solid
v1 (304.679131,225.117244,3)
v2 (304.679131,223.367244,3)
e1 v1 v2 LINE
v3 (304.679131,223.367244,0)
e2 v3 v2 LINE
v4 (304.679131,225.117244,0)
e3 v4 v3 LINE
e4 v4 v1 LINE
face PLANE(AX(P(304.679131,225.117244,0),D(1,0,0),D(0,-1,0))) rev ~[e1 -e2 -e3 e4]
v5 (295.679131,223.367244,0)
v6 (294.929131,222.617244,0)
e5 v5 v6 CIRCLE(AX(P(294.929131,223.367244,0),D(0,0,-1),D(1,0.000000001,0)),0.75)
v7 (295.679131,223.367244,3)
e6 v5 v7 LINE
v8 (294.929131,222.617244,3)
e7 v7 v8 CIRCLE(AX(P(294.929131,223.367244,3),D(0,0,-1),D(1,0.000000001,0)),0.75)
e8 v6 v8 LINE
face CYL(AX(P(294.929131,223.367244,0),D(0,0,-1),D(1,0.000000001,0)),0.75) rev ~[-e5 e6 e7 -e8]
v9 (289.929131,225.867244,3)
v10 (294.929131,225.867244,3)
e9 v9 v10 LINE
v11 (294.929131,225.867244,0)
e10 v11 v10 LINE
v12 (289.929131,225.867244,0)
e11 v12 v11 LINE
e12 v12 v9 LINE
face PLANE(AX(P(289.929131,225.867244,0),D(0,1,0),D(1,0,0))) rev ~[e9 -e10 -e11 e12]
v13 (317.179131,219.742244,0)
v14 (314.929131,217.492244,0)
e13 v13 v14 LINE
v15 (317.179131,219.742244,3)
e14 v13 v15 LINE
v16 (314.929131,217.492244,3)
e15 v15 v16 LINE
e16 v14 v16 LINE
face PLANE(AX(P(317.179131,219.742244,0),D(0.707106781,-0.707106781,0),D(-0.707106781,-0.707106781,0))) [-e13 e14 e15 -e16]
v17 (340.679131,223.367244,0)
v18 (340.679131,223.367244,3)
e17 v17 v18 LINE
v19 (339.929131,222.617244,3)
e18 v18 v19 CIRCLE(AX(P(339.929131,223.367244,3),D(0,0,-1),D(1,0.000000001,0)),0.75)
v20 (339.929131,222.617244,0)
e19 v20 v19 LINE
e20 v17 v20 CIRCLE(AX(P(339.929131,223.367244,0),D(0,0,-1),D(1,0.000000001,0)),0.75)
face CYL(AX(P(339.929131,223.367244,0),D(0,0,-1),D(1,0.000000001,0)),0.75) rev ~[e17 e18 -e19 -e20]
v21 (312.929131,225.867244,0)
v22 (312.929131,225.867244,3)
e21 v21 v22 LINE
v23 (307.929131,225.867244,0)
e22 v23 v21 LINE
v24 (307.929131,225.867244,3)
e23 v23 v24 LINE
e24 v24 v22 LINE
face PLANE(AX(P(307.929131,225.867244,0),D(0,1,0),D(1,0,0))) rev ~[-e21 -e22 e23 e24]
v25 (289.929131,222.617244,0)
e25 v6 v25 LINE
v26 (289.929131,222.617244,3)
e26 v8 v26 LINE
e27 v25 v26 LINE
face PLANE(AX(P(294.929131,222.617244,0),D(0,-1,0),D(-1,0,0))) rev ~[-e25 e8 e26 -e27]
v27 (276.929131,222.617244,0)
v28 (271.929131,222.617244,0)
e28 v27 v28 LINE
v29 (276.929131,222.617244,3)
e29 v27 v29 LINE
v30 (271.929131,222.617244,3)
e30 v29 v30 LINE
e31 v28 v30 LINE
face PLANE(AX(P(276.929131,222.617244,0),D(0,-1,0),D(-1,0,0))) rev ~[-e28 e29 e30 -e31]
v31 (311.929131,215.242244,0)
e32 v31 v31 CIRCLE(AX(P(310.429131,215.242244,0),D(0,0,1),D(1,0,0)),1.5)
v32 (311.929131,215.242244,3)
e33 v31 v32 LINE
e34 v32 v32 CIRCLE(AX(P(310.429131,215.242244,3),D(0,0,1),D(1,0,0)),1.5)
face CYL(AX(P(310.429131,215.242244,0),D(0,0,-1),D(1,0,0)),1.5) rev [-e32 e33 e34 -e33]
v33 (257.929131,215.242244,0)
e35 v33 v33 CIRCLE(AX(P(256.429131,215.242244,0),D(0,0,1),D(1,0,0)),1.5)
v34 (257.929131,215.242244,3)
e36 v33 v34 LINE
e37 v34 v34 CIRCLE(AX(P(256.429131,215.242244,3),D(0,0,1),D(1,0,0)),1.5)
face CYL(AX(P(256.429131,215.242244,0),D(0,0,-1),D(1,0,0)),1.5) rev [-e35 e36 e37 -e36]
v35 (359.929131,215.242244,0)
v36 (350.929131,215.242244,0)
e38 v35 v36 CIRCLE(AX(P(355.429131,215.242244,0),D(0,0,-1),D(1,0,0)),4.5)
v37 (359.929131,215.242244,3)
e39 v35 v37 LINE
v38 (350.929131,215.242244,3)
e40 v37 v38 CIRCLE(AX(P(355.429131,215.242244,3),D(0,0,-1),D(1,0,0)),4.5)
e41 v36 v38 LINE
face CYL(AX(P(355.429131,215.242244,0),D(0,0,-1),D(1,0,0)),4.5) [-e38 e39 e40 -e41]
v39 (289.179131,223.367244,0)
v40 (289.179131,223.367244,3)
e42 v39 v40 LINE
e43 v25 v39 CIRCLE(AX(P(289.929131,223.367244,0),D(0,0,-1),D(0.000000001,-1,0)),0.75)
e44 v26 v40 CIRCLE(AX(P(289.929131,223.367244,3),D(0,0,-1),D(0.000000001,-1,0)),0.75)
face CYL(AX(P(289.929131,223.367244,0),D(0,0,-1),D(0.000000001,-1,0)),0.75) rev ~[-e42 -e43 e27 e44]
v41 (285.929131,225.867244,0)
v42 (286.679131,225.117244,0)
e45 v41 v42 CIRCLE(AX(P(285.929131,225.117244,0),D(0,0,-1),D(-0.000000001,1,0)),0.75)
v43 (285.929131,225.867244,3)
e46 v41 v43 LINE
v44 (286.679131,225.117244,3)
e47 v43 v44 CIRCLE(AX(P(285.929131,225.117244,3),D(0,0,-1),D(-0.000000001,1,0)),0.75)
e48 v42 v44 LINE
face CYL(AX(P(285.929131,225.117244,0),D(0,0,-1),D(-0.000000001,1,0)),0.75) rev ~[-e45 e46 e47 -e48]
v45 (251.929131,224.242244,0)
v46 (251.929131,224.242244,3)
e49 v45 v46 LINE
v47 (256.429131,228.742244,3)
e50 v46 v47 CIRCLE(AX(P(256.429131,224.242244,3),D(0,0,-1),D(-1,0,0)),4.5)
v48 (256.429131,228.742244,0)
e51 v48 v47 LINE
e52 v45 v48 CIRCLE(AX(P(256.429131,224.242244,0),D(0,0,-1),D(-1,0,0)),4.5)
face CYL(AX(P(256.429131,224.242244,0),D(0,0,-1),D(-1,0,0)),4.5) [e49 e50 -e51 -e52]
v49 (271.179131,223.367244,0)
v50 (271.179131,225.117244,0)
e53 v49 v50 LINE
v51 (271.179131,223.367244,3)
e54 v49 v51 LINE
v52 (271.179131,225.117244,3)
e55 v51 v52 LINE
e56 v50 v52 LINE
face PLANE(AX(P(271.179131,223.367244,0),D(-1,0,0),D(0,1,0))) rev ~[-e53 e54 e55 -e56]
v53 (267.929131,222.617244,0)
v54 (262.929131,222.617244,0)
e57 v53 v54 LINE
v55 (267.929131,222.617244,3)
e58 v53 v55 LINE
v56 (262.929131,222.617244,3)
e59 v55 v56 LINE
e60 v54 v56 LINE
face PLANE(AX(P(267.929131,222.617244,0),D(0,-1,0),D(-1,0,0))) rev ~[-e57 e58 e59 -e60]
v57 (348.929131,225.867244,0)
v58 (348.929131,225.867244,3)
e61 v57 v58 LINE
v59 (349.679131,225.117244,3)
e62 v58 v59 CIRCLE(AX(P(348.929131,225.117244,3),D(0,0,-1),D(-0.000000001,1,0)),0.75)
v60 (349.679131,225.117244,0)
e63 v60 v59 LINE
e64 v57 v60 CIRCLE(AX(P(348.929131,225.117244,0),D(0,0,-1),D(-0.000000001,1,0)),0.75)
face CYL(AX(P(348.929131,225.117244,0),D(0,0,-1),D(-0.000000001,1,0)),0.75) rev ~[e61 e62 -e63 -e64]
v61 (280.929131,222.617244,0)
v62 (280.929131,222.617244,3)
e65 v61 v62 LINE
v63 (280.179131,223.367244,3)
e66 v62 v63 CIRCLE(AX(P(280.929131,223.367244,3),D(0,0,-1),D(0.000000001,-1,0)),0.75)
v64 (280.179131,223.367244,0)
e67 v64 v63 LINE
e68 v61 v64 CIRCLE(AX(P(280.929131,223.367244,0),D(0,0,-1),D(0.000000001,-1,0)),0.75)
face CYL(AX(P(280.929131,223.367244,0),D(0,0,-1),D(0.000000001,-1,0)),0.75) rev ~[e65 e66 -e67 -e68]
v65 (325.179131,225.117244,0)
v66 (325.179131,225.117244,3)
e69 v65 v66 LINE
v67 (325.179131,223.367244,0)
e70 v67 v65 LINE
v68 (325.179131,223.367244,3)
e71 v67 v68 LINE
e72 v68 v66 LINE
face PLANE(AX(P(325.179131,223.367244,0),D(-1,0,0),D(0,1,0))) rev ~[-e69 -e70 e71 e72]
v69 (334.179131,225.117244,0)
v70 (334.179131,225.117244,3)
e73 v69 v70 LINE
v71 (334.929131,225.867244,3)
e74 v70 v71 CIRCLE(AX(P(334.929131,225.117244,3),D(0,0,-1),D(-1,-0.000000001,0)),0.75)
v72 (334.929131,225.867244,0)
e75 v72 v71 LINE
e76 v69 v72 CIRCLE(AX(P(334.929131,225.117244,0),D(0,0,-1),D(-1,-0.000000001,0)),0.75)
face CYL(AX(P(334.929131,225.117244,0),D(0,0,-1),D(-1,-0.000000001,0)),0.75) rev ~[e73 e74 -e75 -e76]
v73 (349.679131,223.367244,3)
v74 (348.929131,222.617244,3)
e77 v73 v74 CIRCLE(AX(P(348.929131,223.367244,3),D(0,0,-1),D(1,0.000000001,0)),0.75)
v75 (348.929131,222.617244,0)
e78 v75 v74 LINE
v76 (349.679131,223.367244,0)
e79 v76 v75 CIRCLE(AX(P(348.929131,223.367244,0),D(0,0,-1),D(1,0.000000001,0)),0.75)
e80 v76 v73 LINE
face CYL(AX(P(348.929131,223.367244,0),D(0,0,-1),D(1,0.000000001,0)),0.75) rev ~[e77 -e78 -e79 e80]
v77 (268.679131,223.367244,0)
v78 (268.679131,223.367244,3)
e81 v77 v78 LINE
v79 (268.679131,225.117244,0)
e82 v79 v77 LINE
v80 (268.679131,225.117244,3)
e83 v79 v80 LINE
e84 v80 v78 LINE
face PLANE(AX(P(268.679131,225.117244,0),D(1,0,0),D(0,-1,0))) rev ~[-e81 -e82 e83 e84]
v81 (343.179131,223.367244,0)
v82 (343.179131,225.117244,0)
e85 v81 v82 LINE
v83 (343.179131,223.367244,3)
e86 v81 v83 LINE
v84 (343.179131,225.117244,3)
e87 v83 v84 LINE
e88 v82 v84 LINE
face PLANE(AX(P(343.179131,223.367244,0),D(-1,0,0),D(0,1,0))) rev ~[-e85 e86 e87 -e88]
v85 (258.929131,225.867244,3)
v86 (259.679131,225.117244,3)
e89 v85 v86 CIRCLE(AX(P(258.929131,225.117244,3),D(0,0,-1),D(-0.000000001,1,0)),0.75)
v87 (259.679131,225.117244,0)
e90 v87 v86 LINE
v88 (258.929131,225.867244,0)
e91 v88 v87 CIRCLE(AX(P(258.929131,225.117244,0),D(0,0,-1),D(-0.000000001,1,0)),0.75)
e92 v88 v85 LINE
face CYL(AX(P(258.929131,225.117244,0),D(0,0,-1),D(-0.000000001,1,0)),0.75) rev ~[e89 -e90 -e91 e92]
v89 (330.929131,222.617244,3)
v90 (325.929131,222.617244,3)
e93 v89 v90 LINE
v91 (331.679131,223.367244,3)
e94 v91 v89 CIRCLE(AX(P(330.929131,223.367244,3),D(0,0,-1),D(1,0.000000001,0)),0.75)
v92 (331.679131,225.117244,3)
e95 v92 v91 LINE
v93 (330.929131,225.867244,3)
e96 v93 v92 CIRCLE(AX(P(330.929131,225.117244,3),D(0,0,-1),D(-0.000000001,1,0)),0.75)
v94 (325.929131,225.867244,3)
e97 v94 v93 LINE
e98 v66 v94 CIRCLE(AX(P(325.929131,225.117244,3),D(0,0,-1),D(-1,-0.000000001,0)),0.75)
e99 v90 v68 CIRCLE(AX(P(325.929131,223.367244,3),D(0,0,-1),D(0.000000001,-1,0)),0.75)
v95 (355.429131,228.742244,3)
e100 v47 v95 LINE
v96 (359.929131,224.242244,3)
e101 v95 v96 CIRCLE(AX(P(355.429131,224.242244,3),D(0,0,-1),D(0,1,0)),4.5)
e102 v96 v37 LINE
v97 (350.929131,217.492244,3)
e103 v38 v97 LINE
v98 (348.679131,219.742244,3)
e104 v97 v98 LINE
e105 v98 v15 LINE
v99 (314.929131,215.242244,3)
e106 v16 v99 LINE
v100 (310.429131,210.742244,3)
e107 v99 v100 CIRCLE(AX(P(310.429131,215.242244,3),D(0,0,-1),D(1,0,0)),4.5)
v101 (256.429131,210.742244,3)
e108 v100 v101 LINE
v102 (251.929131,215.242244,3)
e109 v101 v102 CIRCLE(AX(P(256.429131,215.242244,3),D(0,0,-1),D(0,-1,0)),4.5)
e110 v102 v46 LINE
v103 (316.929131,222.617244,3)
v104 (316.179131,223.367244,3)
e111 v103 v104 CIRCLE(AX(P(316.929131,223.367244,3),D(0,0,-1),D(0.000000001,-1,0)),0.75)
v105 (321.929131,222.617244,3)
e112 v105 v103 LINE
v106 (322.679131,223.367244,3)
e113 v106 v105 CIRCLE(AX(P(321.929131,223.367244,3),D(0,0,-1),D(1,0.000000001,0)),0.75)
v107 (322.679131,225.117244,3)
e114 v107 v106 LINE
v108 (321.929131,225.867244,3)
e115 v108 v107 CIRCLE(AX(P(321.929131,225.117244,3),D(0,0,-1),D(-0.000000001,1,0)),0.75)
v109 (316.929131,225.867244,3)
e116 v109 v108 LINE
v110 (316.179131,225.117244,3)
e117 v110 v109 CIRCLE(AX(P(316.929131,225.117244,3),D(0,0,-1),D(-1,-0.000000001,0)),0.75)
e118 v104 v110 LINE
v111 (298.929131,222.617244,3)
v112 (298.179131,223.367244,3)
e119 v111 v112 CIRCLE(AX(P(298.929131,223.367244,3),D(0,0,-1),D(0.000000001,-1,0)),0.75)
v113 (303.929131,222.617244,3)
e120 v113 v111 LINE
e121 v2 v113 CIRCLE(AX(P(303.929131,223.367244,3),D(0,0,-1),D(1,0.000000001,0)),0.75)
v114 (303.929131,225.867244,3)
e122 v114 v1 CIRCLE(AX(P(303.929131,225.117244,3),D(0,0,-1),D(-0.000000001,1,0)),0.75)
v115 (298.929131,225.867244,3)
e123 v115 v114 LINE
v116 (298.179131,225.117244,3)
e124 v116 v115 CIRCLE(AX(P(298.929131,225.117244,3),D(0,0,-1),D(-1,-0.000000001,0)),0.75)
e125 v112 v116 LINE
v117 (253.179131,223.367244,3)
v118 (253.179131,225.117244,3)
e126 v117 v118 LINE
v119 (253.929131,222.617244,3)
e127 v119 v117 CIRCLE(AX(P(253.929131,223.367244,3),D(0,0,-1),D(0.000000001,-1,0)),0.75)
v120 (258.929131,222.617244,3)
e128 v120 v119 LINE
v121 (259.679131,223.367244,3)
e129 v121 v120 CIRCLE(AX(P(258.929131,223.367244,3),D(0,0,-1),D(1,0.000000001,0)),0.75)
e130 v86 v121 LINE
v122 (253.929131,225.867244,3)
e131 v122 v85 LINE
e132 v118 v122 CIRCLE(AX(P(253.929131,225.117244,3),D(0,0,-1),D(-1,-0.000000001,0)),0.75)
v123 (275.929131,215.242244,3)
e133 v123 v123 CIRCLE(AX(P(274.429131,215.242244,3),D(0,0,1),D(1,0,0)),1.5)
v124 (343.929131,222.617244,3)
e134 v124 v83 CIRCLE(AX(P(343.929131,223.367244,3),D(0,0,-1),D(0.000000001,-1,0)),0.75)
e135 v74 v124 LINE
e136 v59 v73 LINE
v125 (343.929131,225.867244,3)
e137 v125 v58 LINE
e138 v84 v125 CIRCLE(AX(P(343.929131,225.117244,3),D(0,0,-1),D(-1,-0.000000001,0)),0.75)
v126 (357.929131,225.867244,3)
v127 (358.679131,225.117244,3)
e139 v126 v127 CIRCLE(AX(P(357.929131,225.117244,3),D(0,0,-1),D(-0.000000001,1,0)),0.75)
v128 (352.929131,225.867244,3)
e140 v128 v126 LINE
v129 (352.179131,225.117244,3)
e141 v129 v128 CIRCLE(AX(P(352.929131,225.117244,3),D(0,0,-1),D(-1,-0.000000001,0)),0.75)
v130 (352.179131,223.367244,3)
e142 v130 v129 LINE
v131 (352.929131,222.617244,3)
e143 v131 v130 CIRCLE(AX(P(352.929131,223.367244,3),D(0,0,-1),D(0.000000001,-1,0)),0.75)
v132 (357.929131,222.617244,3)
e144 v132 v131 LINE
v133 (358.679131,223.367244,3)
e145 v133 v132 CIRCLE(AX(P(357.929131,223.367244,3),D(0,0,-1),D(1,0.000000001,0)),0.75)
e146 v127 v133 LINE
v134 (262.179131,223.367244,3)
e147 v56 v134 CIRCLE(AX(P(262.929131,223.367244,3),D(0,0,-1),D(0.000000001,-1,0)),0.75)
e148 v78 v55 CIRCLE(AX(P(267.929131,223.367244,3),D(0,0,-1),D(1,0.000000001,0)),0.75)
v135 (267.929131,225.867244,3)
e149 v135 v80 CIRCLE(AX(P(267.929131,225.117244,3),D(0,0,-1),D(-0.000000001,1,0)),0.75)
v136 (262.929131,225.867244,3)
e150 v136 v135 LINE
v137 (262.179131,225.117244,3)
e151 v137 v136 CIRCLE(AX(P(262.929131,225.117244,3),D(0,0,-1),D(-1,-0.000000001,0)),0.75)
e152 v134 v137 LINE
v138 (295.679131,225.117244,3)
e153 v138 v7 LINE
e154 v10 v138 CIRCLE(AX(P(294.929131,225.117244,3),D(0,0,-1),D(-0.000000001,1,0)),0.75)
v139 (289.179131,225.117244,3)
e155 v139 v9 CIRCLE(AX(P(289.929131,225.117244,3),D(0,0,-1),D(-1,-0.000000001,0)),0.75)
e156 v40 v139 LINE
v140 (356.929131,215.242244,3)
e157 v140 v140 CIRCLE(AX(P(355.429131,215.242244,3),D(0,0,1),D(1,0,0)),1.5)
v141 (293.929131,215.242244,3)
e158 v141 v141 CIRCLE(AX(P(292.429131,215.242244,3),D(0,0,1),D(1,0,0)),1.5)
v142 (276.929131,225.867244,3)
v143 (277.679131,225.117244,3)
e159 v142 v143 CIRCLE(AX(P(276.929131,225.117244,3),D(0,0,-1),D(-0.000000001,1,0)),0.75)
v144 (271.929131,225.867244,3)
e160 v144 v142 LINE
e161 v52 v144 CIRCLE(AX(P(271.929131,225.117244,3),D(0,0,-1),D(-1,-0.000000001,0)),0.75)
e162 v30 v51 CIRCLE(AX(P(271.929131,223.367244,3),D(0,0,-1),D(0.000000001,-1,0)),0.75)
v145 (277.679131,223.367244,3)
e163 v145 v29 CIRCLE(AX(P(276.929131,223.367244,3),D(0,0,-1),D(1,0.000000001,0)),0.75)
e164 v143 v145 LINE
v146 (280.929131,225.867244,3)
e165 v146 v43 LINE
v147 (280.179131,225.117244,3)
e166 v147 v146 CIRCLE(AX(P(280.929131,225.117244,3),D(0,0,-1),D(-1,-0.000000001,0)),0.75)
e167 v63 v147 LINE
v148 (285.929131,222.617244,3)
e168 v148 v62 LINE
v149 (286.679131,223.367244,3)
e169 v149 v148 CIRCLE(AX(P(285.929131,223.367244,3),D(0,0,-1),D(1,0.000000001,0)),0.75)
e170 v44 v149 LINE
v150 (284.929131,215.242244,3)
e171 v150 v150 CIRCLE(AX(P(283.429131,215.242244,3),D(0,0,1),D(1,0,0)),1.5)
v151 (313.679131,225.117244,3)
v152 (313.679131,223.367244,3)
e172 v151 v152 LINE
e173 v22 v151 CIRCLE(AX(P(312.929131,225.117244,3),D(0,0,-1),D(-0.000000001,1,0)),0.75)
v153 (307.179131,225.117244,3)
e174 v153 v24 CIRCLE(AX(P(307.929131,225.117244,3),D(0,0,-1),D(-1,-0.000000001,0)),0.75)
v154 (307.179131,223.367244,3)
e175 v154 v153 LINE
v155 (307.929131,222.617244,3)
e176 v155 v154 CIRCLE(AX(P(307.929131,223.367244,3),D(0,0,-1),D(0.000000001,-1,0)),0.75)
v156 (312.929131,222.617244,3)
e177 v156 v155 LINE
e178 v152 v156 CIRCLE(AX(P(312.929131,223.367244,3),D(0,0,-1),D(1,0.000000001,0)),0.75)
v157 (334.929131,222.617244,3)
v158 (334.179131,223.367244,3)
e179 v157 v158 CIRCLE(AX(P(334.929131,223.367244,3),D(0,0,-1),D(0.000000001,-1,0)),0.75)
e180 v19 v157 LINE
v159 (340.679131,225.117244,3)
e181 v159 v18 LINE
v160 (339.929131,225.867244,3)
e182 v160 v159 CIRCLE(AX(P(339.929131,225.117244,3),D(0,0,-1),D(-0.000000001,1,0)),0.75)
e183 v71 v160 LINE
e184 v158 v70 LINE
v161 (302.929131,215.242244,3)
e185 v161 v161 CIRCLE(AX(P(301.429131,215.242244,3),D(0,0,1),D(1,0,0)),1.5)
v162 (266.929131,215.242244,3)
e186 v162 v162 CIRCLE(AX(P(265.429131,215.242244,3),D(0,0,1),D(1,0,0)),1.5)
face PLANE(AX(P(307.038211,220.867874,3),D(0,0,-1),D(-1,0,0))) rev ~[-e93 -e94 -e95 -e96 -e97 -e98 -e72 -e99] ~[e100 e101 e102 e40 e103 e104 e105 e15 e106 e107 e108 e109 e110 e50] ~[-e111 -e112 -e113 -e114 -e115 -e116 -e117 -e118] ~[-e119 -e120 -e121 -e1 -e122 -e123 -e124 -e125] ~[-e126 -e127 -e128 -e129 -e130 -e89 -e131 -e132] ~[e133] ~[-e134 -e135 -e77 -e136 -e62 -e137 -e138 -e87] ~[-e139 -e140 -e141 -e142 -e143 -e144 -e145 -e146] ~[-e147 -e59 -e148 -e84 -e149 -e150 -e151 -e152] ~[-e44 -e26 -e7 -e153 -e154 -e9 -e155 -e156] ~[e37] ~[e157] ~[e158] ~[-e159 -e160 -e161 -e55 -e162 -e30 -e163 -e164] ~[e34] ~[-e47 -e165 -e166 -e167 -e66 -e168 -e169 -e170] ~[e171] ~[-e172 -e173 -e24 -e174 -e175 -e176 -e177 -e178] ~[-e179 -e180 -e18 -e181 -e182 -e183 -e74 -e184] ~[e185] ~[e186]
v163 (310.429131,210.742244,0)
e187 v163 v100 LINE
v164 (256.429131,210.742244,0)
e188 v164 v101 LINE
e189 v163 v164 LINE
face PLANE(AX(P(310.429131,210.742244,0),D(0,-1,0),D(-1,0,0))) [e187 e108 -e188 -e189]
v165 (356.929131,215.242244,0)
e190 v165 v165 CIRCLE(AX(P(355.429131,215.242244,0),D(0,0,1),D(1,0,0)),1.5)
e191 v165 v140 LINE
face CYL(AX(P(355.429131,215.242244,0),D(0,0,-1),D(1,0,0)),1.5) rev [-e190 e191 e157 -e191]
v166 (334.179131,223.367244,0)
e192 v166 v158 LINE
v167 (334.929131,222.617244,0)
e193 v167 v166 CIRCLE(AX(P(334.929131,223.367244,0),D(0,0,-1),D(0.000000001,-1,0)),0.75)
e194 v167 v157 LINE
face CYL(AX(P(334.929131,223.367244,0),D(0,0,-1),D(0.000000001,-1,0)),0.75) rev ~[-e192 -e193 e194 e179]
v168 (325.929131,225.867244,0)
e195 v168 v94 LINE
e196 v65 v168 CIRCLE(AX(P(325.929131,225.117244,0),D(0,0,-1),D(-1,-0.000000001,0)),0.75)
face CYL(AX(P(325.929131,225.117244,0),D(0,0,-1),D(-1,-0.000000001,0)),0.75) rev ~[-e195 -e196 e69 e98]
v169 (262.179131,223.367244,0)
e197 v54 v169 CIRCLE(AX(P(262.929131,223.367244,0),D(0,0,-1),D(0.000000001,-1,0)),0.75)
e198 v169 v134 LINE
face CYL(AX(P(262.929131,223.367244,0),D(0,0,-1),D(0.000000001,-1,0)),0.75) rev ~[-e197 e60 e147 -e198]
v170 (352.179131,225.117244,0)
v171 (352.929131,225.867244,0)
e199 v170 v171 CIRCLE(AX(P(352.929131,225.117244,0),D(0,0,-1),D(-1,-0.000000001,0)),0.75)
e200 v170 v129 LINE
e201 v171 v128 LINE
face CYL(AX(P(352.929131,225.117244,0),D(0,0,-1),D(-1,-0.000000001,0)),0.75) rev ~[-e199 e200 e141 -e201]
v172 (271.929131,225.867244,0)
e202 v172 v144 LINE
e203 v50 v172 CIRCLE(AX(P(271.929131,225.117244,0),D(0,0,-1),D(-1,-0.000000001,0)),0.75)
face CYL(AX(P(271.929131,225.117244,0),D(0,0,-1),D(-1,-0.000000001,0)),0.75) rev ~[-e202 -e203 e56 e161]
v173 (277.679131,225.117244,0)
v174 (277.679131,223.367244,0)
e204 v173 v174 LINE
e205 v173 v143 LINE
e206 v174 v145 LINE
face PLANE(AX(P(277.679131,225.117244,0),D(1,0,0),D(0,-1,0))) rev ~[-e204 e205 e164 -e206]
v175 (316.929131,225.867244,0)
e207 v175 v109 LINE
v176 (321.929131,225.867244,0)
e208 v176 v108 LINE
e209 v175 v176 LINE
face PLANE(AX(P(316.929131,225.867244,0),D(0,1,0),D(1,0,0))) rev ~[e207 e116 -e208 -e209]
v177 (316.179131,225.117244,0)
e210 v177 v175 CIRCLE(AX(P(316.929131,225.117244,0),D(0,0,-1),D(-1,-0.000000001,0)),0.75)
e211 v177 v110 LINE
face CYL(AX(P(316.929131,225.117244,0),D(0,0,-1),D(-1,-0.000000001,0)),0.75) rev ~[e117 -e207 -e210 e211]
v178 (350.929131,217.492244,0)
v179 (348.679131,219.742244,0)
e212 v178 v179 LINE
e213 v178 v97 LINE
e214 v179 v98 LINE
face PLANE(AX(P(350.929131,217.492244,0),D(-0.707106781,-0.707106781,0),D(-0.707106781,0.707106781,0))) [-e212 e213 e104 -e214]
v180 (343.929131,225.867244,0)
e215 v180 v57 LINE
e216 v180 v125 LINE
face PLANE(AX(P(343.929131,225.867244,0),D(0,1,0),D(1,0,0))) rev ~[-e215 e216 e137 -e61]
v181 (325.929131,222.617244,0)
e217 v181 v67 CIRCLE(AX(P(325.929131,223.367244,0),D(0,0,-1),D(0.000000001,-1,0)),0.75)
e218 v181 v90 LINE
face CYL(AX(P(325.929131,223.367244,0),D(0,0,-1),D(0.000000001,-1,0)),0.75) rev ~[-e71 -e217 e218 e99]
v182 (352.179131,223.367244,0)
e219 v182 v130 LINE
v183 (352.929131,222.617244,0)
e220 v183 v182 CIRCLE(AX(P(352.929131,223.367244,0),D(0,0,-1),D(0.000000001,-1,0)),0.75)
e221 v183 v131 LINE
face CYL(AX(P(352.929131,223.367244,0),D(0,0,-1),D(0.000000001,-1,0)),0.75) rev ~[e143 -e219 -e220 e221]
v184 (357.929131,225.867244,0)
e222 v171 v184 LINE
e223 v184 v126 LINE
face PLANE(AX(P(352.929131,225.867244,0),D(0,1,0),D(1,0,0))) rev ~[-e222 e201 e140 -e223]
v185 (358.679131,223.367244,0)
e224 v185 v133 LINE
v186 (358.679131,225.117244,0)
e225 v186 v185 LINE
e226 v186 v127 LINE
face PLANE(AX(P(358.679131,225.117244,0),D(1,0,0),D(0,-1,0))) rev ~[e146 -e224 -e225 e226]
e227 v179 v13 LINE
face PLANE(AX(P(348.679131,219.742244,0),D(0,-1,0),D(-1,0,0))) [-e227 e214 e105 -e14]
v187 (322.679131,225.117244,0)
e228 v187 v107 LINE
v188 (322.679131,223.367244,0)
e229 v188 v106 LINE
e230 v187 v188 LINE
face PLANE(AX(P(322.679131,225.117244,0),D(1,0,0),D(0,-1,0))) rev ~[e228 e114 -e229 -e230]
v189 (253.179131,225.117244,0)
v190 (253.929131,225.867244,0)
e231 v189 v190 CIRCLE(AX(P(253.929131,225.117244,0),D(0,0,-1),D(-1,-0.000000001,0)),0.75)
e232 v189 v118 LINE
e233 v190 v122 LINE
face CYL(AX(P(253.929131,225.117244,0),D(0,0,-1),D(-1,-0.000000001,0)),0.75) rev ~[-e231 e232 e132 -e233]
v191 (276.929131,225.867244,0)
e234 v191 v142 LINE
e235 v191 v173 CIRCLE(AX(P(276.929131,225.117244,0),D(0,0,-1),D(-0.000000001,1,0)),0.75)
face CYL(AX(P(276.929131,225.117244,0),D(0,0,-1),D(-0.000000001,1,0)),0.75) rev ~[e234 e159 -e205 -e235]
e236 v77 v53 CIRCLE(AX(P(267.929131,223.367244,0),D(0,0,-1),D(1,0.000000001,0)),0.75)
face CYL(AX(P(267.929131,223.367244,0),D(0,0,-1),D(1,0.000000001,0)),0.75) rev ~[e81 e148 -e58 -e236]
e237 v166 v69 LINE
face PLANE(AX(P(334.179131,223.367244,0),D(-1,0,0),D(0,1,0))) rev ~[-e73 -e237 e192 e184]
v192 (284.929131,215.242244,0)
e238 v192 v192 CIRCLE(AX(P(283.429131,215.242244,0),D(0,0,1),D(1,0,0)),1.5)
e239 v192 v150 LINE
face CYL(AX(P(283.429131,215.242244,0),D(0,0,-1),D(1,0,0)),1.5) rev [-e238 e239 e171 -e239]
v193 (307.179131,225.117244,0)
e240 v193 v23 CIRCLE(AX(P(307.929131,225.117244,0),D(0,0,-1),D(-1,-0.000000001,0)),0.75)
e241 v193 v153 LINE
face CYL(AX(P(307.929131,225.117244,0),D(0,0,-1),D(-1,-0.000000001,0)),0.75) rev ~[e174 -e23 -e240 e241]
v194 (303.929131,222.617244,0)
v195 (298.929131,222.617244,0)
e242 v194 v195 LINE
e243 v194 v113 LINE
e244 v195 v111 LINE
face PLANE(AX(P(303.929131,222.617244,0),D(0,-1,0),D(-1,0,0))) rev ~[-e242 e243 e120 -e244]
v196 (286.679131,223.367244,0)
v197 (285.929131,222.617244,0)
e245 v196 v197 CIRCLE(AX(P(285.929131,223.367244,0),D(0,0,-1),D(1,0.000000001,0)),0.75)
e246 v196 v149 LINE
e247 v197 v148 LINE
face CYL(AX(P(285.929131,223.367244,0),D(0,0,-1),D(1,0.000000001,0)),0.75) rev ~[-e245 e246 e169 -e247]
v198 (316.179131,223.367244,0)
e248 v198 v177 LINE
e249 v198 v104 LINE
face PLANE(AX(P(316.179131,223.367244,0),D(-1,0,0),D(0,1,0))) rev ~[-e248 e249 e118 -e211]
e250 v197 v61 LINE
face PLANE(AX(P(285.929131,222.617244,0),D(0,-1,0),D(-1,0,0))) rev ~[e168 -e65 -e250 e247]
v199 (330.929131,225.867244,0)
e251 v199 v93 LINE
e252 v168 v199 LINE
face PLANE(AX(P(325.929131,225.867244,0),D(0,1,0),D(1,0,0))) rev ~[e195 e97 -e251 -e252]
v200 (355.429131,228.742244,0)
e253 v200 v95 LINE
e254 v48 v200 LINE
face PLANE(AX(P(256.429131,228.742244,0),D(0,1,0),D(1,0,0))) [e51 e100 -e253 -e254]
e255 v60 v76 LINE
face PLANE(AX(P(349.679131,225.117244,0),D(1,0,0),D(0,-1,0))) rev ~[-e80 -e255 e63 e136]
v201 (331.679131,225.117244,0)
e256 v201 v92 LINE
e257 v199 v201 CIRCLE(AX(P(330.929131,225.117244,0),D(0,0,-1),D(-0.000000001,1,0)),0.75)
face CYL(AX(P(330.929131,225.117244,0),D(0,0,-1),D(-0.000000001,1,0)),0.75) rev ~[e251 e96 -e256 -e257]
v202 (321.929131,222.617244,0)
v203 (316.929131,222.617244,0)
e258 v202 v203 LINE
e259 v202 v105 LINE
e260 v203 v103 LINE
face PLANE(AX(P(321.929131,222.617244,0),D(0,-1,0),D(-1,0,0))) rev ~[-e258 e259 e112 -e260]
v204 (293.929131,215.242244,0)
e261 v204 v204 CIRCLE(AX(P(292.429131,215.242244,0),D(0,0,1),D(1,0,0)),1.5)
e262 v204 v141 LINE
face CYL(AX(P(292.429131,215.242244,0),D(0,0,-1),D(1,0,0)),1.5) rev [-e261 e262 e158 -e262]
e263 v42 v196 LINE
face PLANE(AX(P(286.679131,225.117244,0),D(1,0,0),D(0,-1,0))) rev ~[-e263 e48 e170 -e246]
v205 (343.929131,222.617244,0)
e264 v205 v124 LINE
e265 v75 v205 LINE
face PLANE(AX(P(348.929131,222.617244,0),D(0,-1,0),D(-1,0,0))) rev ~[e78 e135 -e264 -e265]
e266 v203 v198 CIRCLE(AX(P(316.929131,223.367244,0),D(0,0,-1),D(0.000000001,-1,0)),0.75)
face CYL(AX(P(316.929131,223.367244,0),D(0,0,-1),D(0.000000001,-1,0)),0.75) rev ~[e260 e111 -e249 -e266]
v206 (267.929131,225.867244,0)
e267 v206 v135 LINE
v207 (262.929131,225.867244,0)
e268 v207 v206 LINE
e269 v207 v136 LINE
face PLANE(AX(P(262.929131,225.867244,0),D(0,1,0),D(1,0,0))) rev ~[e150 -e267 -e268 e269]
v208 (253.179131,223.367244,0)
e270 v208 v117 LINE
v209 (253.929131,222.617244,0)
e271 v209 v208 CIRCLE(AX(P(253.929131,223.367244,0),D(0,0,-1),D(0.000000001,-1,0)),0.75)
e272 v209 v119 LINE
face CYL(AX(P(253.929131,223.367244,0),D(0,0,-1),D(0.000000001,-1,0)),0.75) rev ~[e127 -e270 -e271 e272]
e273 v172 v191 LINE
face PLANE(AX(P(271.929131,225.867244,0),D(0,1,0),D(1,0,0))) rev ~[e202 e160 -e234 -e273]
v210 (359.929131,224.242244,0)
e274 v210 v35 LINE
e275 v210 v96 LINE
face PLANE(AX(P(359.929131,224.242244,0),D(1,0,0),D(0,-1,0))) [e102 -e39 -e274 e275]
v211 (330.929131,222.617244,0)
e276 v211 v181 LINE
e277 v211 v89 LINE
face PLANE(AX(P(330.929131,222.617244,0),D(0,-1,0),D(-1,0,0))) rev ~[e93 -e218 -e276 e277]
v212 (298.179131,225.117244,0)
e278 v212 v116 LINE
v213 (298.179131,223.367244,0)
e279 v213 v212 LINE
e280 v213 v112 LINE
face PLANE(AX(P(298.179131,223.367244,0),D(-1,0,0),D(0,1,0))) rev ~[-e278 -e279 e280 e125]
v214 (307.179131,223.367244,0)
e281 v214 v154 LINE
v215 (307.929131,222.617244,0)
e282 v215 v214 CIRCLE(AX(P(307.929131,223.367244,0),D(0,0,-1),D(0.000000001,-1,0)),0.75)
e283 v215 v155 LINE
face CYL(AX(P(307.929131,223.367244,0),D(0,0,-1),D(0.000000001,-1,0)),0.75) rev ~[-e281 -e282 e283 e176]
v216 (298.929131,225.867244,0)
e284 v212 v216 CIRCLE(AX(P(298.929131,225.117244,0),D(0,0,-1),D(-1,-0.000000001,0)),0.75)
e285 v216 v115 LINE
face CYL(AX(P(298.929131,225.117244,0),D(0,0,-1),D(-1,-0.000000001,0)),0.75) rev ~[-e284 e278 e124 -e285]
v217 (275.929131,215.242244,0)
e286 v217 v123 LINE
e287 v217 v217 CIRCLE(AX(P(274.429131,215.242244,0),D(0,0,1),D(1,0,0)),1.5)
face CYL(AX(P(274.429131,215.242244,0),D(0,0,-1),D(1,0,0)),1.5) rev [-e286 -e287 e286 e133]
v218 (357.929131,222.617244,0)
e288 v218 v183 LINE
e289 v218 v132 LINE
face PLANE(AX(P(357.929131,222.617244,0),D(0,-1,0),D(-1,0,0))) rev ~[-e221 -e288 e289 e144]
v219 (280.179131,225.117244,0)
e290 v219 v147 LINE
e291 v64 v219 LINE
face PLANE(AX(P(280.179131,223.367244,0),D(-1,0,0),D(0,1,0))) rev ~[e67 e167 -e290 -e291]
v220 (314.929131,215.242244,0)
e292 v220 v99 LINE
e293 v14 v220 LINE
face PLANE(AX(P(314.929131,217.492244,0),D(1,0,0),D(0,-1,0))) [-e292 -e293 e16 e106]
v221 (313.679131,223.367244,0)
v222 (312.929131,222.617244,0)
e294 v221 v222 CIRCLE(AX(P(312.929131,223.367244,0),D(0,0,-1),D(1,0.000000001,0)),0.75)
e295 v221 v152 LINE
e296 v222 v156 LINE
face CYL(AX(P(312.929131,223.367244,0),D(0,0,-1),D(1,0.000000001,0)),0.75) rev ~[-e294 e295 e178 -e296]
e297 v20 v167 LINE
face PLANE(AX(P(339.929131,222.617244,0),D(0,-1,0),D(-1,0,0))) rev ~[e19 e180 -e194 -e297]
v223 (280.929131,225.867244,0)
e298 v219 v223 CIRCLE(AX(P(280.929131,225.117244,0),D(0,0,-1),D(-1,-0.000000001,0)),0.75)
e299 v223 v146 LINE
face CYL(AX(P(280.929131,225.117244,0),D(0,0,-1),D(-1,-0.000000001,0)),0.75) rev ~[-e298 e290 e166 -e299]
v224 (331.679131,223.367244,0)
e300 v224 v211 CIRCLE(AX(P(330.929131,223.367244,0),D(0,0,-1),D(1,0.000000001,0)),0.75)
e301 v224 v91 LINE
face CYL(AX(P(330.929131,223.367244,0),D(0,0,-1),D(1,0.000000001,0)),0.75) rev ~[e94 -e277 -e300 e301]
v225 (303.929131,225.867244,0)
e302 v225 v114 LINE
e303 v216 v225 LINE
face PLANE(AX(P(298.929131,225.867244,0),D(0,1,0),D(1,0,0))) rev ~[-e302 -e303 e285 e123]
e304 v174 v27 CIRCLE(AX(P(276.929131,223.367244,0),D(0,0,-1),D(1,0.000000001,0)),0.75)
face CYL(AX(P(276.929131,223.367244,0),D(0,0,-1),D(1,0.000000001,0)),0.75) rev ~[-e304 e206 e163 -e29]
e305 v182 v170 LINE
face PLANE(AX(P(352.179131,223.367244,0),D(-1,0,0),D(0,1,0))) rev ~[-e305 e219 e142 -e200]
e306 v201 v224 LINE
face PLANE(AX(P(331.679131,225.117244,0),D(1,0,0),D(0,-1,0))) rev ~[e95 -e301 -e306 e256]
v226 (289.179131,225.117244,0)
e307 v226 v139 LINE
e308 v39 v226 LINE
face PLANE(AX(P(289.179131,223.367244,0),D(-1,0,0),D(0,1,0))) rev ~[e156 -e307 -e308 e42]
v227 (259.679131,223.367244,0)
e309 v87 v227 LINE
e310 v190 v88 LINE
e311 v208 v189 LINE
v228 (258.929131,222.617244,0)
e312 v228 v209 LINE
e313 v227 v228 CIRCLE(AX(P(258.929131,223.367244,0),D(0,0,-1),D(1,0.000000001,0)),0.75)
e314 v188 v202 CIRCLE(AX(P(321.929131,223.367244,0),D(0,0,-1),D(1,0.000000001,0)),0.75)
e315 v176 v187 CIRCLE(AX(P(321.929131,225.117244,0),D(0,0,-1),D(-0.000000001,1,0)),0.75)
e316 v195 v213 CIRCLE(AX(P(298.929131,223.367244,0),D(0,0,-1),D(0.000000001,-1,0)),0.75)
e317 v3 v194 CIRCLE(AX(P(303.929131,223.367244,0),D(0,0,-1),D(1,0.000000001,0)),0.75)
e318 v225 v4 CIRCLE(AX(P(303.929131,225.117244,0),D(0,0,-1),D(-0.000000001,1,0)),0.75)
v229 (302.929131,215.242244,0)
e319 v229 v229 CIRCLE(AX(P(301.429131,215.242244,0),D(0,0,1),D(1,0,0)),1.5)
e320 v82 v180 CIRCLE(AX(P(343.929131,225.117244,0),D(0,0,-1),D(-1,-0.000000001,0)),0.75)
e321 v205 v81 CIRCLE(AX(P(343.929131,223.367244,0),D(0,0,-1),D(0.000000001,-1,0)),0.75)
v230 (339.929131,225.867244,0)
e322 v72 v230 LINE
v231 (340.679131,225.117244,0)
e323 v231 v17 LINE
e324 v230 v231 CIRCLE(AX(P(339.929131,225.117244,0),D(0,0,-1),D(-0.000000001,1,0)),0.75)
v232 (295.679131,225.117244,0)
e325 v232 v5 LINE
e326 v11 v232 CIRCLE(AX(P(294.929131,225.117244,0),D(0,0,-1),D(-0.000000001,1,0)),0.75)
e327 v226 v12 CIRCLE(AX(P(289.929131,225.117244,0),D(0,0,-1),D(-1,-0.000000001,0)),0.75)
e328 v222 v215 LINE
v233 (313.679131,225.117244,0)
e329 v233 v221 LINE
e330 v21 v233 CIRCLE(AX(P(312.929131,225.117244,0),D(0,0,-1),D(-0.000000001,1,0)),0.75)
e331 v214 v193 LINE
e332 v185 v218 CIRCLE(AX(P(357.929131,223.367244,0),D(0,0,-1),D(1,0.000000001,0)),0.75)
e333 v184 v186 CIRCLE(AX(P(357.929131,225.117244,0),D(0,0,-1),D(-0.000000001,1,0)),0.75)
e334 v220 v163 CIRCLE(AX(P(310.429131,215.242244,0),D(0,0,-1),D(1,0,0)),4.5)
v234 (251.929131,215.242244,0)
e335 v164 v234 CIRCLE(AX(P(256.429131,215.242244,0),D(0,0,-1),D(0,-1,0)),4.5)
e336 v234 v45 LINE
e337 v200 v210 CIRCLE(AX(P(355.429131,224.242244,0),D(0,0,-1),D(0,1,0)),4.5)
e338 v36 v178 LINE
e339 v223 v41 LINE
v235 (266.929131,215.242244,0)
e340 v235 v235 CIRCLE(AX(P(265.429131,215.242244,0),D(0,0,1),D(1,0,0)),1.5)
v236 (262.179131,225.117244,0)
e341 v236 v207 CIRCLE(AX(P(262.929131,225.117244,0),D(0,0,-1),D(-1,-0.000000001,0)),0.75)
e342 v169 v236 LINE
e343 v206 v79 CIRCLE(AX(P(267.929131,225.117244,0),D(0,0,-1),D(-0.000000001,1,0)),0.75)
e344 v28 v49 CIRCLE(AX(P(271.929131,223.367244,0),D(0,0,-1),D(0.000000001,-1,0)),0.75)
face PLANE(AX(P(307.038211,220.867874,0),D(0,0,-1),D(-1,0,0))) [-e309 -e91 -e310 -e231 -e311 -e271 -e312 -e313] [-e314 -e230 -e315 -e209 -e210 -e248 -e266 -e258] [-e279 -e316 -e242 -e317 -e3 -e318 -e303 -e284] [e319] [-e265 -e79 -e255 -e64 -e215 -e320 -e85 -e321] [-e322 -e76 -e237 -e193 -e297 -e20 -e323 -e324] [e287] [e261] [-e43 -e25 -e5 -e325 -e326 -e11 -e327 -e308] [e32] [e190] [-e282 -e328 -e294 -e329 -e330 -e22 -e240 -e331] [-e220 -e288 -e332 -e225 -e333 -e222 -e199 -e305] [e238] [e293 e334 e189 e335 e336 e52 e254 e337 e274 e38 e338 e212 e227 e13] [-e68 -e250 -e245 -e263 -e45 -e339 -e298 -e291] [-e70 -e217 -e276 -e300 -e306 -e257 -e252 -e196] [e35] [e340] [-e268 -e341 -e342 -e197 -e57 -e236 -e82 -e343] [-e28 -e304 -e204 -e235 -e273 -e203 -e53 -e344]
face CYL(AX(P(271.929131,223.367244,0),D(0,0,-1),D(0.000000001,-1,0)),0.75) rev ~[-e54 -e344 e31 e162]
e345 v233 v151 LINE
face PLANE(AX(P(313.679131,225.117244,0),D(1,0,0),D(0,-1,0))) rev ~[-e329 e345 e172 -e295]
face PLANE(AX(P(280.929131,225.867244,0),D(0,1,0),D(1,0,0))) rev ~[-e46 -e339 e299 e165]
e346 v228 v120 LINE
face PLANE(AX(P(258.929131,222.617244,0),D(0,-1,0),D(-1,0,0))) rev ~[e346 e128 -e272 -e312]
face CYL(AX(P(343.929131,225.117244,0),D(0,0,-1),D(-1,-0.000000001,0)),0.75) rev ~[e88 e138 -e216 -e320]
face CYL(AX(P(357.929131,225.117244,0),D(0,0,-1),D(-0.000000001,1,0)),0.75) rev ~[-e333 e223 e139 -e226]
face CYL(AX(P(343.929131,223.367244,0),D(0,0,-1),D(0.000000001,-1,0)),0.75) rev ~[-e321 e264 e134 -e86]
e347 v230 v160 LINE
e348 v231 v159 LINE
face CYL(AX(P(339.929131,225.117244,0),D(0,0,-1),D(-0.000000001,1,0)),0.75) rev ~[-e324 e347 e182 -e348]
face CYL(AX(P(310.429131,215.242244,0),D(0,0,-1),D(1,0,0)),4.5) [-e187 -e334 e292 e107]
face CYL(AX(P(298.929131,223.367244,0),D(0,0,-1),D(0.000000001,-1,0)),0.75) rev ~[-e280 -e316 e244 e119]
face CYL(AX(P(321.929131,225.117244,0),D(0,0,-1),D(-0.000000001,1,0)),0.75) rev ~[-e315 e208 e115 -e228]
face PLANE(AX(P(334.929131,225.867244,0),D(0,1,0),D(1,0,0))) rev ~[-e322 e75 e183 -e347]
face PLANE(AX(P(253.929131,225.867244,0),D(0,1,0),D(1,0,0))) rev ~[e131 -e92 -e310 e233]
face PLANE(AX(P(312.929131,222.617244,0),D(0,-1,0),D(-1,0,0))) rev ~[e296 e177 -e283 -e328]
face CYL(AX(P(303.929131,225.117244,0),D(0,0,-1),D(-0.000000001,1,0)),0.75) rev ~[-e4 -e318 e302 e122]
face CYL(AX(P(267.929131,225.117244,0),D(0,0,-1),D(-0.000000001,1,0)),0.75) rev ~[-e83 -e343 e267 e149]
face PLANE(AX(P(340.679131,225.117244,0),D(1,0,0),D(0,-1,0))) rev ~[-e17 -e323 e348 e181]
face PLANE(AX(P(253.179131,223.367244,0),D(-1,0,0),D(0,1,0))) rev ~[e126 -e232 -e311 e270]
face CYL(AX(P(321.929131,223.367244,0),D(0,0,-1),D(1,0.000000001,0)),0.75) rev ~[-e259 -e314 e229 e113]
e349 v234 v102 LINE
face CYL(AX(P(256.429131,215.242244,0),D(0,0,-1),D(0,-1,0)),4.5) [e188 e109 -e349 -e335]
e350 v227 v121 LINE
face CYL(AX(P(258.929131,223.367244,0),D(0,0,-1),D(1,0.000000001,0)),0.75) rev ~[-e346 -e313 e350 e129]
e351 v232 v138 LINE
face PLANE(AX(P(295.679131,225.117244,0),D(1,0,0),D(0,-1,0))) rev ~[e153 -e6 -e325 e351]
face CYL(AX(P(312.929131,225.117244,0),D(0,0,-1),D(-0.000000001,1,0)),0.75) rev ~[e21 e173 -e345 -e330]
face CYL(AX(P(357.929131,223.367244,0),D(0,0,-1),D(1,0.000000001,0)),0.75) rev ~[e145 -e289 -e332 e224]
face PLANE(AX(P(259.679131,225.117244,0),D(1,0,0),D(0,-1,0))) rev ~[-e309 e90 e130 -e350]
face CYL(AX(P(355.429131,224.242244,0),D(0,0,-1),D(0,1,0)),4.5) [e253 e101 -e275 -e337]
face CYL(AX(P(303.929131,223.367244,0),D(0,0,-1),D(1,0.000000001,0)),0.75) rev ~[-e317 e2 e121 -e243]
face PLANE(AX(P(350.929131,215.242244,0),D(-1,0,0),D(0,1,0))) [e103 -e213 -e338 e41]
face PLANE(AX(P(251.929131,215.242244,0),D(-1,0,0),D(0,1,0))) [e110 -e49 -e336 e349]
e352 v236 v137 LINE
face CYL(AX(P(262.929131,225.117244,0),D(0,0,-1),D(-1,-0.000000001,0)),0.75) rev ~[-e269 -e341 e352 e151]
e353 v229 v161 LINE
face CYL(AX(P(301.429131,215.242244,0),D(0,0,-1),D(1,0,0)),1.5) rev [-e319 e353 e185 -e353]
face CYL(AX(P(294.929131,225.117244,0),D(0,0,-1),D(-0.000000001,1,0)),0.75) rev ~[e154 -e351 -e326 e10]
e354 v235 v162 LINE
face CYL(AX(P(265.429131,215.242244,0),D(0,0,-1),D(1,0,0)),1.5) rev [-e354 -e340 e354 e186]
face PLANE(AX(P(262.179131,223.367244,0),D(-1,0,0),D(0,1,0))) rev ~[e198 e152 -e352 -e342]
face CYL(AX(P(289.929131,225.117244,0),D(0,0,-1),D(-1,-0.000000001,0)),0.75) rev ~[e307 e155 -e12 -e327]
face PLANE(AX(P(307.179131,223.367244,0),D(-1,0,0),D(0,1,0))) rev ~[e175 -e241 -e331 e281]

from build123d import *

# Parameters (mm, degrees)
MODEL_R                 = 1.5
SALIENTE_EXTRUIR1_DEPTH = 3


with BuildPart() as part:
    # Model → Saliente-Extruir1 (new body)
    with BuildSketch(Plane.XY):
        with BuildLine():
            Line((256.429131311, 228.742243614), (355.429131311, 228.742243614))
            ThreePointArc((355.429131311, 228.742243614), (358.611111826, 227.424224129), (359.929131311, 224.242243614))
            Line((359.929131311, 224.242243614), (359.929131311, 215.242243614))
            ThreePointArc((359.929131311, 215.242243614), (355.429131311, 210.742243614), (350.929131311, 215.242243614))
            Line((350.929131311, 215.242243614), (350.929131311, 217.492243614))
            Line((350.929131311, 217.492243614), (348.679131311, 219.742243614))
            Line((348.679131311, 219.742243614), (317.179131311, 219.742243614))
            Line((317.179131311, 219.742243614), (314.929131311, 217.492243614))
            Line((314.929131311, 217.492243614), (314.929131311, 215.242243614))
            ThreePointArc((314.929131311, 215.242243614), (313.611111826, 212.060263099), (310.429131311, 210.742243614))
            Line((310.429131311, 210.742243614), (256.429131311, 210.742243614))
            ThreePointArc((256.429131311, 210.742243614), (253.247150795, 212.060263099), (251.929131311, 215.242243614))
            Line((251.929131311, 215.242243614), (251.929131311, 224.242243614))
            ThreePointArc((251.929131311, 224.242243614), (253.247150795, 227.424224129), (256.429131311, 228.742243614))
        make_face()
        with Locations((310.429131311, 215.242243614)):
            Circle(MODEL_R, mode=Mode.SUBTRACT)
        with Locations((292.429131311, 215.242243614)):
            Circle(MODEL_R, mode=Mode.SUBTRACT)
        with Locations((301.429131311, 215.242243614)):
            Circle(MODEL_R, mode=Mode.SUBTRACT)
        with Locations((274.429131311, 215.242243614)):
            Circle(MODEL_R, mode=Mode.SUBTRACT)
        with Locations((283.429131311, 215.242243614)):
            Circle(MODEL_R, mode=Mode.SUBTRACT)
        with Locations((265.429131311, 215.242243614)):
            Circle(MODEL_R, mode=Mode.SUBTRACT)
        with Locations((256.429131311, 215.242243614)):
            Circle(MODEL_R, mode=Mode.SUBTRACT)
        with Locations((355.429131311, 215.242243614)):
            Circle(MODEL_R, mode=Mode.SUBTRACT)
        with BuildLine():
            Line((267.929131311, 222.617243614), (262.929131311, 222.617243614))
            ThreePointArc((262.929131311, 222.617243614), (262.398801225, 222.836913528), (262.179131311, 223.367243614))
            Line((262.179131311, 223.367243614), (262.179131311, 225.117243614))
            ThreePointArc((262.179131311, 225.117243614), (262.398801225, 225.6475737), (262.929131311, 225.867243614))
            Line((262.929131311, 225.867243614), (267.929131311, 225.867243614))
            ThreePointArc((267.929131311, 225.867243614), (268.459461397, 225.6475737), (268.679131311, 225.117243614))
            Line((268.679131311, 225.117243614), (268.679131311, 223.367243614))
            ThreePointArc((268.679131311, 223.367243614), (268.459461397, 222.836913528), (267.929131311, 222.617243614))
        make_face(mode=Mode.SUBTRACT)
        with BuildLine():
            Line((285.929131311, 222.617243614), (280.929131311, 222.617243614))
            ThreePointArc((280.929131311, 222.617243614), (280.398801225, 222.836913528), (280.179131311, 223.367243614))
            Line((280.179131311, 223.367243614), (280.179131311, 225.117243614))
            ThreePointArc((280.179131311, 225.117243614), (280.398801225, 225.6475737), (280.929131311, 225.867243614))
            Line((280.929131311, 225.867243614), (285.929131311, 225.867243614))
            ThreePointArc((285.929131311, 225.867243614), (286.459461397, 225.6475737), (286.679131311, 225.117243614))
            Line((286.679131311, 225.117243614), (286.679131311, 223.367243614))
            ThreePointArc((286.679131311, 223.367243614), (286.459461397, 222.836913528), (285.929131311, 222.617243614))
        make_face(mode=Mode.SUBTRACT)
        with BuildLine():
            Line((258.929131311, 222.617243614), (253.929131311, 222.617243614))
            ThreePointArc((253.929131311, 222.617243614), (253.398801225, 222.836913528), (253.179131311, 223.367243614))
            Line((253.179131311, 223.367243614), (253.179131311, 225.117243614))
            ThreePointArc((253.179131311, 225.117243614), (253.398801225, 225.6475737), (253.929131311, 225.867243614))
            Line((253.929131311, 225.867243614), (258.929131311, 225.867243614))
            ThreePointArc((258.929131311, 225.867243614), (259.459461397, 225.6475737), (259.679131311, 225.117243614))
            Line((259.679131311, 225.117243614), (259.679131311, 223.367243614))
            ThreePointArc((259.679131311, 223.367243614), (259.459461397, 222.836913528), (258.929131311, 222.617243614))
        make_face(mode=Mode.SUBTRACT)
        with BuildLine():
            Line((276.929131311, 222.617243614), (271.929131311, 222.617243614))
            ThreePointArc((271.929131311, 222.617243614), (271.398801225, 222.836913528), (271.179131311, 223.367243614))
            Line((271.179131311, 223.367243614), (271.179131311, 225.117243614))
            ThreePointArc((271.179131311, 225.117243614), (271.398801225, 225.6475737), (271.929131311, 225.867243614))
            Line((271.929131311, 225.867243614), (276.929131311, 225.867243614))
            ThreePointArc((276.929131311, 225.867243614), (277.459461397, 225.6475737), (277.679131311, 225.117243614))
            Line((277.679131311, 225.117243614), (277.679131311, 223.367243614))
            ThreePointArc((277.679131311, 223.367243614), (277.459461397, 222.836913528), (276.929131311, 222.617243614))
        make_face(mode=Mode.SUBTRACT)
        with BuildLine():
            Line((294.929131311, 222.617243614), (289.929131311, 222.617243614))
            ThreePointArc((289.929131311, 222.617243614), (289.398801225, 222.836913528), (289.179131311, 223.367243614))
            Line((289.179131311, 223.367243614), (289.179131311, 225.117243614))
            ThreePointArc((289.179131311, 225.117243614), (289.398801225, 225.6475737), (289.929131311, 225.867243614))
            Line((289.929131311, 225.867243614), (294.929131311, 225.867243614))
            ThreePointArc((294.929131311, 225.867243614), (295.459461397, 225.6475737), (295.679131311, 225.117243614))
            Line((295.679131311, 225.117243614), (295.679131311, 223.367243614))
            ThreePointArc((295.679131311, 223.367243614), (295.459461397, 222.836913528), (294.929131311, 222.617243614))
        make_face(mode=Mode.SUBTRACT)
        with BuildLine():
            Line((303.929131311, 222.617243614), (298.929131311, 222.617243614))
            ThreePointArc((298.929131311, 222.617243614), (298.398801225, 222.836913528), (298.179131311, 223.367243614))
            Line((298.179131311, 223.367243614), (298.179131311, 225.117243614))
            ThreePointArc((298.179131311, 225.117243614), (298.398801225, 225.6475737), (298.929131311, 225.867243614))
            Line((298.929131311, 225.867243614), (303.929131311, 225.867243614))
            ThreePointArc((303.929131311, 225.867243614), (304.459461397, 225.6475737), (304.679131311, 225.117243614))
            Line((304.679131311, 225.117243614), (304.679131311, 223.367243614))
            ThreePointArc((304.679131311, 223.367243614), (304.459461397, 222.836913528), (303.929131311, 222.617243614))
        make_face(mode=Mode.SUBTRACT)
        with BuildLine():
            Line((321.929131311, 222.617243614), (316.929131311, 222.617243614))
            ThreePointArc((316.929131311, 222.617243614), (316.398801225, 222.836913528), (316.179131311, 223.367243614))
            Line((316.179131311, 223.367243614), (316.179131311, 225.117243614))
            ThreePointArc((316.179131311, 225.117243614), (316.398801225, 225.6475737), (316.929131311, 225.867243614))
            Line((316.929131311, 225.867243614), (321.929131311, 225.867243614))
            ThreePointArc((321.929131311, 225.867243614), (322.459461397, 225.6475737), (322.679131311, 225.117243614))
            Line((322.679131311, 225.117243614), (322.679131311, 223.367243614))
            ThreePointArc((322.679131311, 223.367243614), (322.459461397, 222.836913528), (321.929131311, 222.617243614))
        make_face(mode=Mode.SUBTRACT)
        with BuildLine():
            Line((312.929131311, 222.617243614), (307.929131311, 222.617243614))
            ThreePointArc((307.929131311, 222.617243614), (307.398801225, 222.836913528), (307.179131311, 223.367243614))
            Line((307.179131311, 223.367243614), (307.179131311, 225.117243614))
            ThreePointArc((307.179131311, 225.117243614), (307.398801225, 225.6475737), (307.929131311, 225.867243614))
            Line((307.929131311, 225.867243614), (312.929131311, 225.867243614))
            ThreePointArc((312.929131311, 225.867243614), (313.459461397, 225.6475737), (313.679131311, 225.117243614))
            Line((313.679131311, 225.117243614), (313.679131311, 223.367243614))
            ThreePointArc((313.679131311, 223.367243614), (313.459461397, 222.836913528), (312.929131311, 222.617243614))
        make_face(mode=Mode.SUBTRACT)
        with BuildLine():
            Line((357.929131311, 222.617243614), (352.929131311, 222.617243614))
            ThreePointArc((352.929131311, 222.617243614), (352.398801225, 222.836913528), (352.179131311, 223.367243614))
            Line((352.179131311, 223.367243614), (352.179131311, 225.117243614))
            ThreePointArc((352.179131311, 225.117243614), (352.398801225, 225.6475737), (352.929131311, 225.867243614))
            Line((352.929131311, 225.867243614), (357.929131311, 225.867243614))
            ThreePointArc((357.929131311, 225.867243614), (358.459461397, 225.6475737), (358.679131311, 225.117243614))
            Line((358.679131311, 225.117243614), (358.679131311, 223.367243614))
            ThreePointArc((358.679131311, 223.367243614), (358.459461397, 222.836913528), (357.929131311, 222.617243614))
        make_face(mode=Mode.SUBTRACT)
        with BuildLine():
            Line((348.929131311, 222.617243614), (343.929131311, 222.617243614))
            ThreePointArc((343.929131311, 222.617243614), (343.398801225, 222.836913528), (343.179131311, 223.367243614))
            Line((343.179131311, 223.367243614), (343.179131311, 225.117243614))
            ThreePointArc((343.179131311, 225.117243614), (343.398801225, 225.6475737), (343.929131311, 225.867243614))
            Line((343.929131311, 225.867243614), (348.929131311, 225.867243614))
            ThreePointArc((348.929131311, 225.867243614), (349.459461397, 225.6475737), (349.679131311, 225.117243614))
            Line((349.679131311, 225.117243614), (349.679131311, 223.367243614))
            ThreePointArc((349.679131311, 223.367243614), (349.459461397, 222.836913528), (348.929131311, 222.617243614))
        make_face(mode=Mode.SUBTRACT)
        with BuildLine():
            Line((339.929131311, 222.617243614), (334.929131311, 222.617243614))
            ThreePointArc((334.929131311, 222.617243614), (334.398801225, 222.836913528), (334.179131311, 223.367243614))
            Line((334.179131311, 223.367243614), (334.179131311, 225.117243614))
            ThreePointArc((334.179131311, 225.117243614), (334.398801225, 225.6475737), (334.929131311, 225.867243614))
            Line((334.929131311, 225.867243614), (339.929131311, 225.867243614))
            ThreePointArc((339.929131311, 225.867243614), (340.459461397, 225.6475737), (340.679131311, 225.117243614))
            Line((340.679131311, 225.117243614), (340.679131311, 223.367243614))
            ThreePointArc((340.679131311, 223.367243614), (340.459461397, 222.836913528), (339.929131311, 222.617243614))
        make_face(mode=Mode.SUBTRACT)
        with BuildLine():
            Line((330.929131311, 222.617243614), (325.929131311, 222.617243614))
            ThreePointArc((325.929131311, 222.617243614), (325.398801225, 222.836913528), (325.179131311, 223.367243614))
            Line((325.179131311, 223.367243614), (325.179131311, 225.117243614))
            ThreePointArc((325.179131311, 225.117243614), (325.398801225, 225.6475737), (325.929131311, 225.867243614))
            Line((325.929131311, 225.867243614), (330.929131311, 225.867243614))
            ThreePointArc((330.929131311, 225.867243614), (331.459461397, 225.6475737), (331.679131311, 225.117243614))
            Line((331.679131311, 225.117243614), (331.679131311, 223.367243614))
            ThreePointArc((331.679131311, 223.367243614), (331.459461397, 222.836913528), (330.929131311, 222.617243614))
        make_face(mode=Mode.SUBTRACT)
    extrude(amount=SALIENTE_EXTRUIR1_DEPTH)


solid = part.part
